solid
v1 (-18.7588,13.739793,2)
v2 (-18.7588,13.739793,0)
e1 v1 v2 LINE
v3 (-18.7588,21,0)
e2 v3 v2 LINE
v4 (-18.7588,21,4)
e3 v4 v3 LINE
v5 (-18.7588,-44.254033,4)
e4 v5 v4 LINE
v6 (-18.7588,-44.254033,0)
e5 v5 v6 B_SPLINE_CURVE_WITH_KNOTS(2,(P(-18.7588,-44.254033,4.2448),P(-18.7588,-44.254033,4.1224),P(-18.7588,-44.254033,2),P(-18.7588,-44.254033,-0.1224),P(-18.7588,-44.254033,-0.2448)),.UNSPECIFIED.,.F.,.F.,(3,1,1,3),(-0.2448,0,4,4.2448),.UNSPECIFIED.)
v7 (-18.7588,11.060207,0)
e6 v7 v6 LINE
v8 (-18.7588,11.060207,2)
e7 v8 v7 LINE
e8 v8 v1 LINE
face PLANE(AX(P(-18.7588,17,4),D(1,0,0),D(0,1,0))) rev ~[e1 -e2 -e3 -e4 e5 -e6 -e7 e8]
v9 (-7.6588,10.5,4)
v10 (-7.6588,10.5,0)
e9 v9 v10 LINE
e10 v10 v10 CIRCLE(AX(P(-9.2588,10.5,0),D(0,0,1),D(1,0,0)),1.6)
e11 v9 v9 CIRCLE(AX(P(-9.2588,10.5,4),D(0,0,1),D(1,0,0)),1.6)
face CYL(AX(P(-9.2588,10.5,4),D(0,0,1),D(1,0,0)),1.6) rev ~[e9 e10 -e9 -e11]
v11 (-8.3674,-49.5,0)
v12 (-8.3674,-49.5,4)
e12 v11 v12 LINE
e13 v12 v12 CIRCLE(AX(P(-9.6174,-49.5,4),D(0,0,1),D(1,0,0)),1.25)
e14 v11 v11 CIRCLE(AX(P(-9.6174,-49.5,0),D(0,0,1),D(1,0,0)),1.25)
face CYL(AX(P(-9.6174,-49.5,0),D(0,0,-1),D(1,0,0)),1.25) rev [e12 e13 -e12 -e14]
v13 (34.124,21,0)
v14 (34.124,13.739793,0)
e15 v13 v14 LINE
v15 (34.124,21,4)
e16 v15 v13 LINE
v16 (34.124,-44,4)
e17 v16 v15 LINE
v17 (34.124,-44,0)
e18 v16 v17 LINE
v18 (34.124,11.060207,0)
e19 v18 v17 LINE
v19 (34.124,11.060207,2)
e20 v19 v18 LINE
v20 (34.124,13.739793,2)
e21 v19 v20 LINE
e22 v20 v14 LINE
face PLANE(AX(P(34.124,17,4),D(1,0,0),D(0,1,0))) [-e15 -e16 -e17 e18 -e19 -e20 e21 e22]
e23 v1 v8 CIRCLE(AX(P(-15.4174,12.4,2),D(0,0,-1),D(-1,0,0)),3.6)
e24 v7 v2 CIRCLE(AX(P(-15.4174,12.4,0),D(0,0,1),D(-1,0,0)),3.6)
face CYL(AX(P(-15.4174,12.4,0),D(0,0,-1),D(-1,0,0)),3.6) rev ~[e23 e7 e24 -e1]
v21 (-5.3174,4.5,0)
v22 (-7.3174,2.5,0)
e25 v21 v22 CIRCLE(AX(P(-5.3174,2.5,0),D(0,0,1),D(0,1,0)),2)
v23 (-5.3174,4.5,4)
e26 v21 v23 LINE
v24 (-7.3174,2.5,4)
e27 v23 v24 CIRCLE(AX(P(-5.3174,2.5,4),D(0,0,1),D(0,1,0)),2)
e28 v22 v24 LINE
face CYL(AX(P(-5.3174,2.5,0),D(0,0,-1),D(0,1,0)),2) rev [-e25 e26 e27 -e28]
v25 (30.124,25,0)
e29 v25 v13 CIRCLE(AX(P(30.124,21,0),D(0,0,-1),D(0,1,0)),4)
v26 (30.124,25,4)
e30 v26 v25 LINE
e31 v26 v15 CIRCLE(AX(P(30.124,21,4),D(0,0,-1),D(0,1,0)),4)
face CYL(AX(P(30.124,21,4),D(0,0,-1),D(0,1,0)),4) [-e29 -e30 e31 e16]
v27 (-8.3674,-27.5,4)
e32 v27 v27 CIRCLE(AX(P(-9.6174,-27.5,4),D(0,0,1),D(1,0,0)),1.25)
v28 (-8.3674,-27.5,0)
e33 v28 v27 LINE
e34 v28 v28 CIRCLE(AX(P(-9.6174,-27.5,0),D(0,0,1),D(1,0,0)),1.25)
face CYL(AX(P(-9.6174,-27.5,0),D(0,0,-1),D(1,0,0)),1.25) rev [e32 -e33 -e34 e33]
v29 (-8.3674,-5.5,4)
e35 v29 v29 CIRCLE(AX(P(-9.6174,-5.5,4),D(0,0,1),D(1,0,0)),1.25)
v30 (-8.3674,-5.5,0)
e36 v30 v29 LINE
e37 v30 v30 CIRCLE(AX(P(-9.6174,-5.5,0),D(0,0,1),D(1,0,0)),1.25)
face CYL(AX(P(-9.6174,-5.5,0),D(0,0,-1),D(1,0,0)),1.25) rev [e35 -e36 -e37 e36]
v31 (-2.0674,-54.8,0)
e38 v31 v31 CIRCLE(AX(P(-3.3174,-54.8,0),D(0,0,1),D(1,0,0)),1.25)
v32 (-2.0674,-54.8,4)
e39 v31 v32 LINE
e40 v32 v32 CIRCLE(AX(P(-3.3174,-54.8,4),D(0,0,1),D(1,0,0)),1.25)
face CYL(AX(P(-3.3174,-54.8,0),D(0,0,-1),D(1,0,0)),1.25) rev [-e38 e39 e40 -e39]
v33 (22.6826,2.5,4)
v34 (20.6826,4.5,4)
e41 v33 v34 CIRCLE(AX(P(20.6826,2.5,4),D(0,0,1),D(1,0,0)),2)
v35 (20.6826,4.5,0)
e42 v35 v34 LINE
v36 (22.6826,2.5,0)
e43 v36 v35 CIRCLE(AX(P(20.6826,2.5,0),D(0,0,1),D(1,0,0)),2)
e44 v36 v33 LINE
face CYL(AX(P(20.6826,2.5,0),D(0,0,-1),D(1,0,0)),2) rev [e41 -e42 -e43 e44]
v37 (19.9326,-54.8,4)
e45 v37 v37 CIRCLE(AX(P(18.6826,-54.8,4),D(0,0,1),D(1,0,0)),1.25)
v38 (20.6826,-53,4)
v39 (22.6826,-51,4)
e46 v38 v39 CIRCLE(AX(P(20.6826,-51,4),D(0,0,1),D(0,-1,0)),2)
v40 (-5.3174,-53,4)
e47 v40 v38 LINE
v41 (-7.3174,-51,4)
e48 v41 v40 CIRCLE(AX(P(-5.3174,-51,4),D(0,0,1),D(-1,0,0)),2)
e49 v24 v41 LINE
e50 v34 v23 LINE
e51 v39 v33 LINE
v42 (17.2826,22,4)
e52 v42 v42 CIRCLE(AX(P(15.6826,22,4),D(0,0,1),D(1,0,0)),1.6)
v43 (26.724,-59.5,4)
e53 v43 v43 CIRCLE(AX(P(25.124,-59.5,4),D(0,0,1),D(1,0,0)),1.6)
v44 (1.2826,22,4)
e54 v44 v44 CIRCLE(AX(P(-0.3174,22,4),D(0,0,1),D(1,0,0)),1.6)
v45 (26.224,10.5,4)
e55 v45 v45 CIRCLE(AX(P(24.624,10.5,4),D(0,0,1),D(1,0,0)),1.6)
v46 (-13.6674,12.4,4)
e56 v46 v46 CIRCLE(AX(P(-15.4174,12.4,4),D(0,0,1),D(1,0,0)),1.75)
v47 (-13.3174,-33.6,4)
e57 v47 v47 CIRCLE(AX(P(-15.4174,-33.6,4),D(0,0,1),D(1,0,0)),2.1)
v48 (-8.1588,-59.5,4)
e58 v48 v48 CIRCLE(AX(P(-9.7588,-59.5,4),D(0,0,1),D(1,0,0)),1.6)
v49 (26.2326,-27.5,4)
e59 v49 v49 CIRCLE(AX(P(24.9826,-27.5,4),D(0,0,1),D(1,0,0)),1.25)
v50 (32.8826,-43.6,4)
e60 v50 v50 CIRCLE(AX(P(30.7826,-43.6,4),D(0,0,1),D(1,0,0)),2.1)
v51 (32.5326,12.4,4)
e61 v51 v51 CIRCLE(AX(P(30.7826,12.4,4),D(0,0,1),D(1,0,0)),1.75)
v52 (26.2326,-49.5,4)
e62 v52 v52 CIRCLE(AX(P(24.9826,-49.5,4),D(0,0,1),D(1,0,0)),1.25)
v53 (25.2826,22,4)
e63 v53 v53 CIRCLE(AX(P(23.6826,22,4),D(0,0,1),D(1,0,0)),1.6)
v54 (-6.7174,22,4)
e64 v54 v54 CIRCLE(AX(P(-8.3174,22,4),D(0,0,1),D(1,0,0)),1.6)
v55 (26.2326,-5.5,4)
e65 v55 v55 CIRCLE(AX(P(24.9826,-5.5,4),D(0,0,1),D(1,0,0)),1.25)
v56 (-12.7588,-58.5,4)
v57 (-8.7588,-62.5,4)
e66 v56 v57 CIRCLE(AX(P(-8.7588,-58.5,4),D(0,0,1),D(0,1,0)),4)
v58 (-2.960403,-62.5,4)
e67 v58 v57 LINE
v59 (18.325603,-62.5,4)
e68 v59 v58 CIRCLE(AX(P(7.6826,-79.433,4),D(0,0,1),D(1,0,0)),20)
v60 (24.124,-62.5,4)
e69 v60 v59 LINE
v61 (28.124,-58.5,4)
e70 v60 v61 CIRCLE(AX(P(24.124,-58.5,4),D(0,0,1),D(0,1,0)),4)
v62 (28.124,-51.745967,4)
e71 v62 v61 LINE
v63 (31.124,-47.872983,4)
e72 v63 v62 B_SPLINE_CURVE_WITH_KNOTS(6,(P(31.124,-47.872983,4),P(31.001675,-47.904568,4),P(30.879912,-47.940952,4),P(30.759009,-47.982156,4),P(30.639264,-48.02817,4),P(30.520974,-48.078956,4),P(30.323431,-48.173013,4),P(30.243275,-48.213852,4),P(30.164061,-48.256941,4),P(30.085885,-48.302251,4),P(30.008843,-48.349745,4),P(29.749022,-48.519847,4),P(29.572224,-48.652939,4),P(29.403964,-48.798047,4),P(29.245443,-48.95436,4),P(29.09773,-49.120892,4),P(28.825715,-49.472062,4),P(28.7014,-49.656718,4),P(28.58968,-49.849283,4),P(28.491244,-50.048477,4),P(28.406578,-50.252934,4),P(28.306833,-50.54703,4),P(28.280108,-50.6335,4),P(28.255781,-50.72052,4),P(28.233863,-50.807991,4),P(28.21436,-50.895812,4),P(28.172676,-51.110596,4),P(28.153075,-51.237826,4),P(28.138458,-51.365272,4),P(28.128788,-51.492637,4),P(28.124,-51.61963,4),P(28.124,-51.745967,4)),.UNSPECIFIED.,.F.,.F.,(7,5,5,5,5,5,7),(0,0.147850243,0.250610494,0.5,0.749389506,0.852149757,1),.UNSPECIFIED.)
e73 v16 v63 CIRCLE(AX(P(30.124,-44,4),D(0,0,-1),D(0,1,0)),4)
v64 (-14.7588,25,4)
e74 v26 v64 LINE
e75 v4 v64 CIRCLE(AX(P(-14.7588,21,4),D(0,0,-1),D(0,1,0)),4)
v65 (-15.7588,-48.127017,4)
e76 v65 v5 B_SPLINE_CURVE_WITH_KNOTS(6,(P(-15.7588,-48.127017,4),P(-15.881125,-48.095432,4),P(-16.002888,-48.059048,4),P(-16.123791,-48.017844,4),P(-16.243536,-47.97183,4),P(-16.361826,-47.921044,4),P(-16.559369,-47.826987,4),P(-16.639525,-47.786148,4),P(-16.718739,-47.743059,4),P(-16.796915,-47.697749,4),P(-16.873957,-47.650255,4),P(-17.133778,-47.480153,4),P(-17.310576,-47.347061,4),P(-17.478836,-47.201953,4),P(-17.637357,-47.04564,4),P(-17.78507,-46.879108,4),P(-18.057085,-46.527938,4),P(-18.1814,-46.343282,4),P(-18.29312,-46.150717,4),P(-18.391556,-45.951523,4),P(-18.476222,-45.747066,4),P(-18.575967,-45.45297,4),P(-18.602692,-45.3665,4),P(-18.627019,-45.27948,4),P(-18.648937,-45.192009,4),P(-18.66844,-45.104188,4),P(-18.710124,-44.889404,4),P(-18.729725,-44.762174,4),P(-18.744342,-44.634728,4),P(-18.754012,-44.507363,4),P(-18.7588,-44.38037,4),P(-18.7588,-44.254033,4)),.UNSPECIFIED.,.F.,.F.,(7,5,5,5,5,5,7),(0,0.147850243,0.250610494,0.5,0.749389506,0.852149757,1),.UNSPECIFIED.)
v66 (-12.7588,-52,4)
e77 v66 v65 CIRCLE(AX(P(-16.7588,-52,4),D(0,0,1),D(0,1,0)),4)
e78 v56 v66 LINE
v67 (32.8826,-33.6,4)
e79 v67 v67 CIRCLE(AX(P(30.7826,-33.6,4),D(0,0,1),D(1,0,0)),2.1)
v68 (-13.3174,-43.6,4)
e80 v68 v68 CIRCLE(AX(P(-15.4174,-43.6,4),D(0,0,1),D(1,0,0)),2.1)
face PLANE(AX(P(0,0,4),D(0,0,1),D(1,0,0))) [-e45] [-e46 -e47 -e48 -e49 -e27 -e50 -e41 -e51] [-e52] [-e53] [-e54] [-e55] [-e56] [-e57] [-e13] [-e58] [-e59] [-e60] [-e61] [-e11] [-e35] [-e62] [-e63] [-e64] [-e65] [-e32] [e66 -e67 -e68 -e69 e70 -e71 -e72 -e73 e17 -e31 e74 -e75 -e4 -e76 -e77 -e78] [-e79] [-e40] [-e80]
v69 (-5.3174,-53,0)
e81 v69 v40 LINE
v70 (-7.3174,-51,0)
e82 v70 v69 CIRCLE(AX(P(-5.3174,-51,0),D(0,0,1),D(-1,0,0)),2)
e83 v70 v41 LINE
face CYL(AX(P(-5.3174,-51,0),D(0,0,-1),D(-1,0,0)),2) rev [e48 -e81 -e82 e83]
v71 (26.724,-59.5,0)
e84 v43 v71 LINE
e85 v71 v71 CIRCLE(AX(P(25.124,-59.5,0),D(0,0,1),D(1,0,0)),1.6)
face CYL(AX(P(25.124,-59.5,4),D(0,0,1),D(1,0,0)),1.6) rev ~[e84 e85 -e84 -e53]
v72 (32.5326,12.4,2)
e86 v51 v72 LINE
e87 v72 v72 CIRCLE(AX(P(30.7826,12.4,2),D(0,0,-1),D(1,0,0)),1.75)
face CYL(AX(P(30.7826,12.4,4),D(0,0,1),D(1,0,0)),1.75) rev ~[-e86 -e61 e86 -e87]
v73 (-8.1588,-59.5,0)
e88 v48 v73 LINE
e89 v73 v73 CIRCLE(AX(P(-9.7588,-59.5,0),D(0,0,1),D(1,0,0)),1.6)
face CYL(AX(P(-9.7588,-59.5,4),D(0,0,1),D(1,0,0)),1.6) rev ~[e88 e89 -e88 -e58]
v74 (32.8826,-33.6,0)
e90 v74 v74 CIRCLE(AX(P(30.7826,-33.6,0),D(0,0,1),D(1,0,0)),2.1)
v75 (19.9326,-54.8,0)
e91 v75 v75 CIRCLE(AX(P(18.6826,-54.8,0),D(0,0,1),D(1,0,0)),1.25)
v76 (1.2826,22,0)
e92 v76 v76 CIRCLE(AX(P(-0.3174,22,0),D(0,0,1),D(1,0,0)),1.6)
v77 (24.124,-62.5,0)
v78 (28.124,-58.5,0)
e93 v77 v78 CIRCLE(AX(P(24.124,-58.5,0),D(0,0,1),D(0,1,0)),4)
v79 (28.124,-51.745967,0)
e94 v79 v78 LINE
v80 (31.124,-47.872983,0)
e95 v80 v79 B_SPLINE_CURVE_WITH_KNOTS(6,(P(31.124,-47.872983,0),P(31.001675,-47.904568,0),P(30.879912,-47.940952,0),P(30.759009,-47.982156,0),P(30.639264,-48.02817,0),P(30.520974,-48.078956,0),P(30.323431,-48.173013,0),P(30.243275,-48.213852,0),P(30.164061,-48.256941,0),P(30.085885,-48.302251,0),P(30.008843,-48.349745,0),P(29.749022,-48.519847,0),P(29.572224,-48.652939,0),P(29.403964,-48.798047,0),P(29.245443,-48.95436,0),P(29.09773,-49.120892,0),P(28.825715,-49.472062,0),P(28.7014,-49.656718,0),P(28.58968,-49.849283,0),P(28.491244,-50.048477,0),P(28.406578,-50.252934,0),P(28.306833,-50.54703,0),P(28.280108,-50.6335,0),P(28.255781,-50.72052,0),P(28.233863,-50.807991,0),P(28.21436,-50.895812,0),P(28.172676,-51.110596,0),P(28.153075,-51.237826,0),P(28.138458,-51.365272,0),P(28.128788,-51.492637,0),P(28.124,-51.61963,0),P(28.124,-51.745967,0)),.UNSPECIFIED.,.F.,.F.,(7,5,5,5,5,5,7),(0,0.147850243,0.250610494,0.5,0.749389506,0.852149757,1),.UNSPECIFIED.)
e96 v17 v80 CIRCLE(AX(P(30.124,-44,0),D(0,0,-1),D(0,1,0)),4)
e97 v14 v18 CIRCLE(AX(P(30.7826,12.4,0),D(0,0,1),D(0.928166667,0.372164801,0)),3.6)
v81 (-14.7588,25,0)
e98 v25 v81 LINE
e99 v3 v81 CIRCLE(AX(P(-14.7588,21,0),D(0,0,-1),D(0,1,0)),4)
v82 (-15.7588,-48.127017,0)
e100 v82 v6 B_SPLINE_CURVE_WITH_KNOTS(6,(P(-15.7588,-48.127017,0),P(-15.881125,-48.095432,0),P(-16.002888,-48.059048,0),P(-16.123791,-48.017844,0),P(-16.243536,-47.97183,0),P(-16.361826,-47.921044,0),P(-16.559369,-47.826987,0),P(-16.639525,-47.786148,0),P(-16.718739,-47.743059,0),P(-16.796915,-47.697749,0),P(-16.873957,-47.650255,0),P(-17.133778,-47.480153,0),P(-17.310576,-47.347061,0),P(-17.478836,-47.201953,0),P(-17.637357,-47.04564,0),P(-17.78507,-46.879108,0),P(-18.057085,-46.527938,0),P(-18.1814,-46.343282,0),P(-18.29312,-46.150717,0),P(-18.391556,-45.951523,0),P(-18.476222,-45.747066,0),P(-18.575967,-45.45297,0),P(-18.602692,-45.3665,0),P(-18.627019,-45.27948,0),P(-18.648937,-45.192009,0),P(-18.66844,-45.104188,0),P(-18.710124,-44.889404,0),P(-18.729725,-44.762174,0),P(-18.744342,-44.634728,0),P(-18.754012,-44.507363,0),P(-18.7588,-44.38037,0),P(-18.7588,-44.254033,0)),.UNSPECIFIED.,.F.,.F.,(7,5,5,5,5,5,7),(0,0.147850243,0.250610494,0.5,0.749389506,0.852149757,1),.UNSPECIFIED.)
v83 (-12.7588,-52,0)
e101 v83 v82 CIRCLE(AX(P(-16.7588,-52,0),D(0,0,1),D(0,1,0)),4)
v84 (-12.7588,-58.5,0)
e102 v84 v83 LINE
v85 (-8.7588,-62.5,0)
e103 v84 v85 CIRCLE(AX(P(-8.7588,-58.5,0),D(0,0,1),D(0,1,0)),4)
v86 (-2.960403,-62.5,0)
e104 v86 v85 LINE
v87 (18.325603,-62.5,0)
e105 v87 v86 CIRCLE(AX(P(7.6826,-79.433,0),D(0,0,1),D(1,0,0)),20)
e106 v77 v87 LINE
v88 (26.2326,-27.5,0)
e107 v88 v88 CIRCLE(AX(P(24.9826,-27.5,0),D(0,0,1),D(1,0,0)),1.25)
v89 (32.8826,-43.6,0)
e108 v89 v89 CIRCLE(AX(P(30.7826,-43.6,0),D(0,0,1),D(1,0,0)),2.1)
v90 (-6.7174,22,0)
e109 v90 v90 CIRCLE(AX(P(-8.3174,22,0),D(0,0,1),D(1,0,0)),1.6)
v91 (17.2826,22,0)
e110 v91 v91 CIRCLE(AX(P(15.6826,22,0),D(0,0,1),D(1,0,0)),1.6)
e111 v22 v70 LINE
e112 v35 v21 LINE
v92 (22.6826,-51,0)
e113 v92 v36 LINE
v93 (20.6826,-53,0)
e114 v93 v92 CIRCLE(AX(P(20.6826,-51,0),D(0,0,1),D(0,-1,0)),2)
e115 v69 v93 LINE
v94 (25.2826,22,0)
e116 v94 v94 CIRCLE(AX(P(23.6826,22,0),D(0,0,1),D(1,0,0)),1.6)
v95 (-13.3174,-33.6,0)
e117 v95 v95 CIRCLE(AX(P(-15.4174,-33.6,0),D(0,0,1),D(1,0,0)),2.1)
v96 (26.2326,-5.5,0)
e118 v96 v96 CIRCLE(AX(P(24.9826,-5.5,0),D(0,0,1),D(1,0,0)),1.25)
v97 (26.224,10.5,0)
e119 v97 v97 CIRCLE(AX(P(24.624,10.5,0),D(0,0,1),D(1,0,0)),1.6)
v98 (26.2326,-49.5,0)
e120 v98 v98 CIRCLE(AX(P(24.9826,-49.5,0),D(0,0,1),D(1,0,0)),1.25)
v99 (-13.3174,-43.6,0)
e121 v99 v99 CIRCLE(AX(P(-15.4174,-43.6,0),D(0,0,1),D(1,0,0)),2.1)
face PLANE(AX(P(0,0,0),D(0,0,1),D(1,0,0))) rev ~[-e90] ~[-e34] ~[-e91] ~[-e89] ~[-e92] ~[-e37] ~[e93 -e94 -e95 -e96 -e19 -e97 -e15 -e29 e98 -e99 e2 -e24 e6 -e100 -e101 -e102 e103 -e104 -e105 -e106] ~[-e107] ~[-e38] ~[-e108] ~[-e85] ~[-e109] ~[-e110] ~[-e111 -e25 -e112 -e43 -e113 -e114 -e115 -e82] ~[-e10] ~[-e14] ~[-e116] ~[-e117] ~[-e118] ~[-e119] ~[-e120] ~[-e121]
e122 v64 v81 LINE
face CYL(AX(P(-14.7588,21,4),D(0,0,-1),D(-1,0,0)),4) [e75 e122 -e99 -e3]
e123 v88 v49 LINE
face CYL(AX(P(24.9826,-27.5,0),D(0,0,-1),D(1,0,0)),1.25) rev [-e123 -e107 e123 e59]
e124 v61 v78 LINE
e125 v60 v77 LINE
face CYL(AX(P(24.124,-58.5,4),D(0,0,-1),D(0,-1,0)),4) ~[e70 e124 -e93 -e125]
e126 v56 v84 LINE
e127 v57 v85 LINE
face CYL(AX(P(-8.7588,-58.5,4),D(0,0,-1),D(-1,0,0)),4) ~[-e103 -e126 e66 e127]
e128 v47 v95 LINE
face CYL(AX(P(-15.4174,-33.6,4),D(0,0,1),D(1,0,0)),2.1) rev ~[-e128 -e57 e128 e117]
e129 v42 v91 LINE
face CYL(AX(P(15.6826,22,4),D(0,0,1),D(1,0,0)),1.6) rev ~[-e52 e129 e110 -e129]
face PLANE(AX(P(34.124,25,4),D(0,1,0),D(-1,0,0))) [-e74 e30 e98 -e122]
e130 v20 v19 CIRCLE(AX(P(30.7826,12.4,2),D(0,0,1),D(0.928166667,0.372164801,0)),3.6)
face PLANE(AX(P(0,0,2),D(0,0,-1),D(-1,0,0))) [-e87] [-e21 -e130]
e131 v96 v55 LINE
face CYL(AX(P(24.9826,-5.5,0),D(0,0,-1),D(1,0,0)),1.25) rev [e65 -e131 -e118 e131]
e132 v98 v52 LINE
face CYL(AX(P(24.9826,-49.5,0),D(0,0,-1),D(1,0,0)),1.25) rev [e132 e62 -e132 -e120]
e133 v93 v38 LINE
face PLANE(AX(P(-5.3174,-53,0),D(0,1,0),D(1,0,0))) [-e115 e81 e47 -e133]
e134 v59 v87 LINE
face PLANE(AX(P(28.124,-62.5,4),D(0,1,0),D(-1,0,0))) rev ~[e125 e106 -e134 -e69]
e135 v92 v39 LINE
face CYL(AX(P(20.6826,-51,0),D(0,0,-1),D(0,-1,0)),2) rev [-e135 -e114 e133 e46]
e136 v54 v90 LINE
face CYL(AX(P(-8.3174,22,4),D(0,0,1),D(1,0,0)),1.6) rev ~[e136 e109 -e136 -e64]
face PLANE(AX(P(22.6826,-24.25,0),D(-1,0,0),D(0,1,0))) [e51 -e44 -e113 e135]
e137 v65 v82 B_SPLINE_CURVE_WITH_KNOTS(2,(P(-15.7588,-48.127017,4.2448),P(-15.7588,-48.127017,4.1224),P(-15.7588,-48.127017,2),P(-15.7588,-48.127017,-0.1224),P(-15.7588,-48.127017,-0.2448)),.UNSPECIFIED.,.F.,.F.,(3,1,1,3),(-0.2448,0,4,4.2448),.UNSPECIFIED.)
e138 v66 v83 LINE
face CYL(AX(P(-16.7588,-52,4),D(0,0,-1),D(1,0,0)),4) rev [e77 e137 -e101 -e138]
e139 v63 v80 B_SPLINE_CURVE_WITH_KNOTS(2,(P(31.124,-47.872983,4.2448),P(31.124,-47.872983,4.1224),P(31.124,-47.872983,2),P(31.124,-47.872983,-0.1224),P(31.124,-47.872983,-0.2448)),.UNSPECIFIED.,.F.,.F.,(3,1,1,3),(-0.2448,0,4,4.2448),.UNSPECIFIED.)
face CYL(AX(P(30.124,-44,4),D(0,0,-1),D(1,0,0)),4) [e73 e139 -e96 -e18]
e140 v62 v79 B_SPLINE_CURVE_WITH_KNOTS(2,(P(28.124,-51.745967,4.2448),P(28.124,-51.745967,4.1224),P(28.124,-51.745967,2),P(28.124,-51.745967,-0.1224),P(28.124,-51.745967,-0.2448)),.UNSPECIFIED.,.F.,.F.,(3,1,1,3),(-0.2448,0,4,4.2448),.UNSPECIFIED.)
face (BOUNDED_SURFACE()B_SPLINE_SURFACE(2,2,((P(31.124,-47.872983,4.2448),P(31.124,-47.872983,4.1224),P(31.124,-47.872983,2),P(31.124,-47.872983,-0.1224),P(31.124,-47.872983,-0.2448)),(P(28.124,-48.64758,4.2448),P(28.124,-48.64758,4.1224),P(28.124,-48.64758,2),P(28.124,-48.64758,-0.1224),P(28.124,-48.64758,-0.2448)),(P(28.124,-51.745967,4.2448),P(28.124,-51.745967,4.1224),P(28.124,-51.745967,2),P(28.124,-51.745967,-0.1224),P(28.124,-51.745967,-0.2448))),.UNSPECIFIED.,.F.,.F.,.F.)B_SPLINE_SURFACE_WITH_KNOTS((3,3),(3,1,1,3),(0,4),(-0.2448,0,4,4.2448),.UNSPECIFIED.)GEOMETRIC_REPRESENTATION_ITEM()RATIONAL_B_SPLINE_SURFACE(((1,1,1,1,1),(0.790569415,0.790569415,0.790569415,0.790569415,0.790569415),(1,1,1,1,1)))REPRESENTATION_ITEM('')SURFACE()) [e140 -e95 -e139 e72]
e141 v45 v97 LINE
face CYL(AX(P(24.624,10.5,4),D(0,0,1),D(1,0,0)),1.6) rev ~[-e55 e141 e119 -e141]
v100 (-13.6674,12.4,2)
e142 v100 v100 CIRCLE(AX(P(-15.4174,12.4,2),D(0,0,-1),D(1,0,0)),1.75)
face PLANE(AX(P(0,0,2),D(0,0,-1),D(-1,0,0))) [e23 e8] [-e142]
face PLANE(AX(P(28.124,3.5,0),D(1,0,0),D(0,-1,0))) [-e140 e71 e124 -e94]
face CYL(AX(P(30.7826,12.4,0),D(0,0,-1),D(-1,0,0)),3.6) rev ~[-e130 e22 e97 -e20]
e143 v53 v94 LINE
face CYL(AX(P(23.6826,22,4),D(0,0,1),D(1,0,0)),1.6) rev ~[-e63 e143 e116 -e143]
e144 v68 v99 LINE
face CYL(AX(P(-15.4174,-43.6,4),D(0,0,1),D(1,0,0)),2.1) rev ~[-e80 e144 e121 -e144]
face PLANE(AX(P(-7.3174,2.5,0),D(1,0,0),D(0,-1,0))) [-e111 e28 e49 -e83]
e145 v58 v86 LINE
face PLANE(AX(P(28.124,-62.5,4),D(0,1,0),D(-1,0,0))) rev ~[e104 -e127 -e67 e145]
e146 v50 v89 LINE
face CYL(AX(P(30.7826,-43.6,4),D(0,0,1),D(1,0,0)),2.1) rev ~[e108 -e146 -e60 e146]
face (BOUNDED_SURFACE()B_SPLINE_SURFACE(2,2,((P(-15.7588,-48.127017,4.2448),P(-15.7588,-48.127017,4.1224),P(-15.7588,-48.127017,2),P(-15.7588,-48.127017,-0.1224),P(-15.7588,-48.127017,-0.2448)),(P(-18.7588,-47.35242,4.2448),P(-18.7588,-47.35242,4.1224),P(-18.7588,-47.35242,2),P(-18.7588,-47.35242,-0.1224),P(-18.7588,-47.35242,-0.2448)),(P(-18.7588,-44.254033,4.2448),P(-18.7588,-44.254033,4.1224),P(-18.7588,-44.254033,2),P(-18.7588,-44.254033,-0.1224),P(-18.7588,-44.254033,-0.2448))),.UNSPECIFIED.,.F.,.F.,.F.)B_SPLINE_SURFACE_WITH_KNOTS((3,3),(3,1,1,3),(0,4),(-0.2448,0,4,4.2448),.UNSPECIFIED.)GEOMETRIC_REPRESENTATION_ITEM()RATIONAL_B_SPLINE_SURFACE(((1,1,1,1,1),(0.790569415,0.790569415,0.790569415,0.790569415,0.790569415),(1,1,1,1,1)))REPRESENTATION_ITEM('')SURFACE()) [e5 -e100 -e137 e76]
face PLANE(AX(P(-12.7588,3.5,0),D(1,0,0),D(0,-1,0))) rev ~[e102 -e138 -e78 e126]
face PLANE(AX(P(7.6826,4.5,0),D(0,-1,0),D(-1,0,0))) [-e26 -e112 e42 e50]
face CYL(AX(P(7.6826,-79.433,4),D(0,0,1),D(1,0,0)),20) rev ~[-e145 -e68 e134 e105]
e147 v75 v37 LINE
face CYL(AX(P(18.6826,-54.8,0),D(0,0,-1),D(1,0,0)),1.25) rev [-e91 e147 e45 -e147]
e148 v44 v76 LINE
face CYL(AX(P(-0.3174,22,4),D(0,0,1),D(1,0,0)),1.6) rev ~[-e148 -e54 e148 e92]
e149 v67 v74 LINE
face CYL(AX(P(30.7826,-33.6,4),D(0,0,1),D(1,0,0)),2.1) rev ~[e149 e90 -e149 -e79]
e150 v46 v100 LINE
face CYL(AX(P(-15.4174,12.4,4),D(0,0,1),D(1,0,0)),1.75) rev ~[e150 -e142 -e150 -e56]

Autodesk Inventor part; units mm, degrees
ref_plane "YZ Plane" through (0, 0, 0) normal (1, 0, 0) x (0, 1, 0)
ref_plane "XZ Plane" through (0, 0, 0) normal (0, 1, 0) x (-1, 0, 0)
ref_plane "XY Plane" through (0, 0, 0) normal (0, 0, 1) x (1, 0, 0)
sketch "스케치1" plane through (0, 0, 0) normal (0, 0, 1) x (1, 0, 0)
  arc A0 (16.8326, 2) -> (15.3326, 3.5) centre (15.3326, 2) ccw
  line L0 (16.8326, 2) -> (16.8326, 0.5)
  arc A1 (16.8326, 0.5) -> (19.1826, -1.85) centre (19.1826, 0.5) ccw
  line L1 (19.1826, -1.85) -> (21.1826, -1.85)
  arc A2 (22.1826, -2.85) -> (21.1826, -1.85) centre (21.1826, -2.85) ccw
  line L2 (22.1826, -2.85) -> (22.1826, -45.65)
  arc A3 (21.1826, -46.65) -> (22.1826, -45.65) centre (21.1826, -45.65) ccw
  line L3 (21.1826, -46.65) -> (19.1826, -46.65)
  arc A4 (19.1826, -46.65) -> (16.8326, -49) centre (19.1826, -49) ccw
  line L4 (16.8326, -49) -> (16.8326, -51)
  arc A5 (15.8326, -52) -> (16.8326, -51) centre (15.8326, -51) ccw
  line L5 (15.8326, -52) -> (-0.4674, -52)
  arc A6 (-1.4674, -51) -> (-0.4674, -52) centre (-0.4674, -51) ccw
  line L6 (-1.4674, -51) -> (-1.4674, -49)
  arc A7 (-1.4674, -49) -> (-3.8174, -46.65) centre (-3.8174, -49) ccw
  line L7 (-3.8174, -46.65) -> (-5.8174, -46.65)
  arc A8 (-6.8174, -45.65) -> (-5.8174, -46.65) centre (-5.8174, -45.65) ccw
  line L8 (-6.8174, -45.65) -> (-6.8174, -2.85)
  arc A9 (-5.8174, -1.85) -> (-6.8174, -2.85) centre (-5.8174, -2.85) ccw
  line L9 (-5.8174, -1.85) -> (-3.8174, -1.85)
  arc A10 (-3.8174, -1.85) -> (-1.4674, 0.5) centre (-3.8174, 0.5) ccw
  line L10 (-1.4674, 0.5) -> (-1.4674, 2)
  arc A11 (0.0326, 3.5) -> (-1.4674, 2) centre (0.0326, 2) ccw
  circle A12 centre (24.9826, -27.5) radius 1.25
  circle A13 centre (18.6826, -54.8) radius 1.25
  circle A14 centre (-9.6174, -5.5) radius 1.25
  circle A15 centre (-9.6174, -27.5) radius 1.25
  circle A16 centre (-3.3174, -54.8) radius 1.25
  circle A17 centre (24.9826, -49.5) radius 1.25
  circle A18 centre (-9.6174, -49.5) radius 1.25
  circle A19 centre (24.9826, -5.5) radius 1.25
  line L11 (0.0326, 3.5) -> (0.0326, 0.875)
  spline S0 degree 3 poles (0.0326, 0.875) (0.0326, 0.7776) (0.0314, 0.6798) (0.029, 0.5822) (0.0265, 0.4846) (0.0229, 0.3871) (0.0181, 0.29) (0.0132, 0.1929) (0.0072, 0.0961) (0, 0) knots 0 0 0 0 0.333333 0.333333 0.333333 0.666667 0.666667 0.666667 1 1 1 1
  line L12 (15.3652, 0) -> (0, 0)
  spline S1 degree 3 poles (15.3652, 0) (15.3581, 0.0956) (15.352, 0.1921) (15.3472, 0.289) (15.3424, 0.386) (15.3387, 0.4835) (15.3363, 0.5813) (15.3338, 0.679) (15.3326, 0.7771) (15.3326, 0.875) knots 0.000001 0.000001 0.000001 0.000001 0.333333 0.333333 0.333333 0.666667 0.666667 0.666667 1 1 1 1
  line L13 (15.3326, 0.875) -> (15.3326, 3.5)
  line L14 (15.3326, 3.5) -> (0.0326, 3.5)
  circle A20 centre (7.6826, -9.5) radius 5
  line L15 (28.124, 3.5) -> (28.124, -58.5)
  line L16 (-12.7588, 3.5) -> (-12.7588, -58.5)
  line L17 (-12.7588, -58.5) -> (28.124, -58.5)
  line L18 (-12.7588, 3.5) -> (-12.7588, 4.4)
  line L19 (28.124, 4.4) -> (28.124, 3.5)
  line L20 (-12.7588, 4.4) -> (-12.7588, 10)
  line L21 (-12.7588, 10) -> (28.124, 10)
  line L22 (28.124, 10) -> (28.124, 4.4)
  line L23 (7.6826, -52) -> (7.6826, -53)
  line L24 (-6.8174, -24.25) -> (-7.3174, -24.25)
  line L25 (22.1826, -24.25) -> (22.6826, -24.25)
  line L26 (7.6826, 3.5) -> (7.6826, 4.5)
  line L27 (7.6826, 4.5) -> (-5.3174, 4.5)
  line L28 (-7.3174, 2.5) -> (-7.3174, -51)
  line L29 (-5.3174, -53) -> (20.6826, -53)
  line L30 (22.6826, -51) -> (22.6826, 2.5)
  line L31 (20.6826, 4.5) -> (7.6826, 4.5)
  line L32 (-12.7588, -27.5) -> (28.124, -27.5) construction
  line L33 (-3.3174, -54.8) -> (-3.3174, 10) construction
  line L34 (18.6826, -54.8) -> (18.6826, 10) construction
  line L35 (-3.3174, 10) -> (-3.3174, 6.3)
  line L36 (18.6826, 10) -> (18.6826, 6.3)
  circle A21 centre (-3.3174, 6.3) radius 1.25
  circle A22 centre (18.6826, 6.3) radius 1.25
  arc A23 (-7.3174, -51) -> (-5.3174, -53) centre (-5.3174, -51) ccw
  arc A24 (20.6826, -53) -> (22.6826, -51) centre (20.6826, -51) ccw
  arc A25 (22.6826, 2.5) -> (20.6826, 4.5) centre (20.6826, 2.5) ccw
  arc A26 (-5.3174, 4.5) -> (-7.3174, 2.5) centre (-5.3174, 2.5) ccw
  point P0 (0, 0)
  point P1 (-7.3174, 4.5)
  point P2 (-7.3174, -53)
  point P3 (22.6826, -53)
  point P4 (22.6826, 4.5)
  dimension "d4" = 62
  dimension "d9" = 5.6
  dimension "d10" = 1
  dimension "d11" = 0.5
  dimension "d12" = 0.5
  dimension "d13" = 1
  dimension "d14" = 3.7
  dimension "d15" = 3.7
  dimension "d16" = 68.5
  dimension "d18" = 9.4414
  dimension "d19" = 9.4414
  dimension "d22" = 3.7
  dimension "d23" = 3.7
  dimension "d24" = 2.5
  dimension "d25" = 2.5
  dimension "d32" = 2
  dimension "d138" = 2.5
  dimension "d139" = 2.5
  dimension "d140" = 2.5
  dimension "d141" = 2.5
  dimension "d142" = 2.5
  dimension "d143" = 2.5
  dimension "d144" = 2.5
  dimension "d145" = 2.5
extrude "돌출2" add sketch "스케치1" along normal blind 4 contours A22 | A21 | L15 L17 L16 L18 L20 L21 L22 L19
sketch "스케치4" plane through (0, 0, 4) normal (0, 0, 1) x (1, 0, 0)
  circle A0 centre (7.6826, -9.5) radius 5
  point P0 (0, 0)
sketch "스케치7" plane through (0, 0, 4) normal (0, 0, 1) x (1, 0, 0)
  line L0 (28.124, 10) -> (-12.7588, 10) projected
  line L1 (-12.7588, 10) -> (28.124, 10)
  line L2 (28.124, 10) -> (28.124, 14)
  line L3 (28.124, 14) -> (-12.7588, 14)
  line L4 (-12.7588, 14) -> (-12.7588, 10)
  line L5 (-12.7588, -58.5) -> (28.124, -58.5) projected
  line L6 (-12.7588, -58.5) -> (28.124, -58.5)
  line L7 (28.124, -58.5) -> (28.124, -62.5)
  line L8 (28.124, -62.5) -> (-12.7588, -62.5)
  line L9 (-12.7588, -62.5) -> (-12.7588, -58.5)
  point P0 (0, 0)
  dimension "d50" = 4
  dimension "d51" = 4
extrude "돌출4" add sketch "스케치7" against normal up to surface (4 mm away)
sketch "스케치5" plane through (0, 0, 4) normal (0, 0, 1) x (1, 0, 0)
  line L0 (-12.7588, 14) -> (-12.7588, -62.5) projected
  line L1 (28.124, -62.5) -> (28.124, 14) projected
  circle A0 centre (24.9826, -5.5) radius 1.25 projected
  circle A1 centre (-9.6174, -5.5) radius 1.25 projected
  circle A2 centre (-9.6174, -27.5) radius 1.25 projected
  line L2 (-5.3174, 4.5) -> (20.6826, 4.5) projected
  arc A3 (22.6826, 2.5) -> (20.6826, 4.5) centre (20.6826, 2.5) ccw projected
  line L3 (22.6826, 2.5) -> (22.6826, -51) projected
  arc A4 (20.6826, -53) -> (22.6826, -51) centre (20.6826, -51) ccw projected
  line L4 (20.6826, -53) -> (-5.3174, -53) projected
  arc A5 (-7.3174, -51) -> (-5.3174, -53) centre (-5.3174, -51) ccw projected
  line L5 (-7.3174, -51) -> (-7.3174, 2.5) projected
  arc A6 (-5.3174, 4.5) -> (-7.3174, 2.5) centre (-5.3174, 2.5) ccw projected
  circle A7 centre (-9.6174, -49.5) radius 1.25 projected
  circle A8 centre (-3.3174, -54.8) radius 1.25 projected
  circle A9 centre (24.9826, -49.5) radius 1.25 projected
  circle A10 centre (18.6826, -54.8) radius 1.25 projected
  circle A11 centre (24.9826, -27.5) radius 1.25 projected
  circle A12 centre (-9.7588, -59.5) radius 1.6
  circle A13 centre (25.124, -59.5) radius 1.6
  circle A14 centre (-9.2588, 10.5) radius 1.6
  circle A15 centre (24.624, 10.5) radius 1.6
  line L6 (-12.7588, -62.5) -> (28.124, -62.5) projected
  line L7 (28.124, 14) -> (-12.7588, 14) projected
  point P0 (0, 0)
  dimension "d36" = 3.2
  dimension "d37" = 3.2
  dimension "d38" = 3.2
  dimension "d39" = 3.2
  dimension "d40" = 3
  dimension "d42" = 3.5
  dimension "d44" = 3.5
  dimension "d46" = 3
  dimension "d54" = 3
  dimension "d55" = 3
  dimension "d56" = 3.5
  dimension "d57" = 3.5
extrude "돌출3" cut sketch "스케치5" against normal blind 4 contours A12 | A13 | A14 | A15
sketch "스케치8" plane through (0, 0, 4) normal (0, 0, 1) x (1, 0, 0)
  line L0 (-12.7588, 14) -> (28.124, 14) projected
  line L1 (7.6826, 14) -> (7.6826, -136) construction
  circle A0 centre (7.6826, -79.433) radius 20
  line L2 (-12.7588, -62.5) -> (28.124, -62.5) projected
  point P0 (0, 0)
  point P1 (-10.7588, 14)
  point P2 (26.124, 14)
  point P3 (-10.7588, -62.5)
  point P4 (26.124, -62.5)
  point P5 (-2.9604, -62.5)
  point P6 (18.3256, -62.5)
  dimension "d59" = 150
  dimension "d60" = 40
  dimension "d61" = 16.933
extrude "돌출5" cut sketch "스케치8" against normal up to surface (4 mm away) contours L2 A0 picked at (9.885, -61.852)
sketch "스케치12" plane through (0, 0, 4) normal (0, 0, 1) x (1, 0, 0)
  circle A0 centre (-9.6174, -27.5) radius 1.25 projected
  line L0 (-9.6174, -27.5) -> (-9.6174, -33.6) construction
  line L1 (-9.6174, -33.6) -> (-15.4174, -33.6) construction
  circle A1 centre (-15.4174, -33.6) radius 2.1
  line L2 (-12.7588, 14) -> (-12.7588, -62.5) projected
  line L3 (-15.4174, -33.6) -> (-15.4174, -43.6) construction
  circle A2 centre (-15.4174, -43.6) radius 2.1
  arc A3 (18.3256, -62.5) -> (-2.9604, -62.5) centre (7.6826, -79.433) ccw projected
  line L4 (-15.4174, -33.6) -> (-15.4174, 12.4) construction
  circle A4 centre (-15.4174, 12.4) radius 1.75
  line L5 (28.124, 14) -> (-12.7588, 14) projected
  line L6 (7.6826, 14) -> (7.6826, -59.433) construction
  arc A5 (18.3256, -62.5) -> (-2.9604, -62.5) centre (7.6826, -79.433) ccw projected
  circle A6 centre (30.7826, -33.6) radius 2.1
  line L7 (30.7826, -33.6) -> (30.7826, -43.6) construction
  circle A7 centre (30.7826, -43.6) radius 2.1
  line L8 (30.7826, -33.6) -> (30.7826, 12.4) construction
  circle A8 centre (30.7826, 12.4) radius 1.75
  line L9 (-12.7588, 14) -> (-12.7588, -62.5) projected
  line L10 (-12.7588, 14) -> (-12.7588, 17)
  line L11 (-12.7588, 17) -> (28.124, 17)
  line L12 (28.124, 17) -> (28.124, 14)
  line L13 (28.124, 17) -> (34.124, 17)
  line L14 (34.124, 17) -> (34.124, -48)
  line L15 (34.124, -48) -> (28.124, -48)
  line L16 (28.124, -62.5) -> (28.124, 14) projected
  line L17 (-12.7588, 17) -> (-18.7588, 17)
  line L18 (-18.7588, 17) -> (-18.7588, -48)
  line L19 (-18.7588, -48) -> (-12.7588, -48)
  point P0 (0, 0)
  point P1 (-12.7588, -60.5)
  point P2 (28.124, -60.5)
  dimension "d83" = 6.1
  dimension "d84" = 5.8
  dimension "d85" = 4.2
  dimension "d87" = 10
  dimension "d88" = 4.2
  dimension "d89" = 46
  dimension "d90" = 3
  dimension "d91" = 6
  dimension "d92" = 65
  dimension "d93" = 6
  dimension "d128" = 3.5
extrude "돌출8" add sketch "스케치12" against normal blind 4 contours L10 L11 L12 L5 | L2 L19 L18 L17 L10 | L12 L13 L14 L15 L16
sketch "스케치13" plane through (0, 0, 4) normal (0, 0, 1) x (1, 0, 0)
  circle A0 centre (-15.4174, 12.4) radius 1.75 projected
  circle A1 centre (-15.4174, -43.6) radius 2.1 projected
  circle A2 centre (-15.4174, -33.6) radius 2.1 projected
  circle A3 centre (30.7826, 12.4) radius 1.75 projected
  circle A4 centre (30.7826, -43.6) radius 2.1 projected
  circle A5 centre (30.7826, -33.6) radius 2.1 projected
  circle A6 centre (24.9826, -27.5) radius 1.25 projected
  circle A7 centre (18.6826, -54.8) radius 1.25 projected
  circle A8 centre (24.9826, -49.5) radius 1.25 projected
  circle A9 centre (-3.3174, -54.8) radius 1.25 projected
  circle A10 centre (-9.6174, -49.5) radius 1.25 projected
  arc A11 (20.6826, -53) -> (22.6826, -51) centre (20.6826, -51) ccw projected
  line L0 (20.6826, -53) -> (-5.3174, -53) projected
  arc A12 (-7.3174, -51) -> (-5.3174, -53) centre (-5.3174, -51) ccw projected
  line L1 (-7.3174, -51) -> (-7.3174, 2.5) projected
  arc A13 (-5.3174, 4.5) -> (-7.3174, 2.5) centre (-5.3174, 2.5) ccw projected
  line L2 (-5.3174, 4.5) -> (20.6826, 4.5) projected
  arc A14 (22.6826, 2.5) -> (20.6826, 4.5) centre (20.6826, 2.5) ccw projected
  line L3 (22.6826, 2.5) -> (22.6826, -51) projected
  circle A15 centre (-9.6174, -27.5) radius 1.25 projected
  circle A16 centre (-9.6174, -5.5) radius 1.25 projected
  circle A17 centre (24.9826, -5.5) radius 1.25 projected
  arc A18 (18.3256, -62.5) -> (-2.9604, -62.5) centre (7.6826, -79.433) ccw projected
  line L4 (18.3256, -62.5) -> (28.124, -62.5) projected
  line L5 (28.124, -62.5) -> (28.124, -48) projected
  line L6 (28.124, -48) -> (34.124, -48) projected
  line L7 (34.124, -48) -> (34.124, 17) projected
  line L8 (34.124, 17) -> (-18.7588, 17) projected
  line L9 (-18.7588, 17) -> (-18.7588, -48) projected
  line L10 (-18.7588, -48) -> (-12.7588, -48) projected
  line L11 (-12.7588, -48) -> (-12.7588, -62.5) projected
  line L12 (-12.7588, -62.5) -> (-2.9604, -62.5) projected
  circle A19 centre (-9.7588, -59.5) radius 1.6 projected
  circle A20 centre (-9.2588, 10.5) radius 1.6 projected
  circle A21 centre (25.124, -59.5) radius 1.6 projected
  circle A22 centre (24.624, 10.5) radius 1.6 projected
  line L13 (-18.7588, 17) -> (34.124, 17) projected
  line L14 (-18.7588, 17) -> (-18.7588, 25)
  line L15 (34.124, 17) -> (34.124, -48) projected
  line L16 (34.124, 17) -> (34.124, 25)
  line L17 (34.124, 25) -> (-18.7588, 25)
  point P0 (0, 0)
  dimension "d97" = 8
  dimension "d98" = 8
extrude "돌출9" add sketch "스케치13" against normal blind 4 contours L8 L14 L17 L16
sketch "스케치14" plane through (0, 0, 4) normal (0, 0, 1) x (1, 0, 0)
  circle A0 centre (-15.4174, 12.4) radius 1.75 projected
  circle A1 centre (-15.4174, -43.6) radius 2.1 projected
  circle A2 centre (-15.4174, -33.6) radius 2.1 projected
  circle A3 centre (30.7826, 12.4) radius 1.75 projected
  circle A4 centre (30.7826, -43.6) radius 2.1 projected
  circle A5 centre (30.7826, -33.6) radius 2.1 projected
  circle A6 centre (24.9826, -27.5) radius 1.25 projected
  circle A7 centre (18.6826, -54.8) radius 1.25 projected
  circle A8 centre (24.9826, -49.5) radius 1.25 projected
  circle A9 centre (-3.3174, -54.8) radius 1.25 projected
  circle A10 centre (-9.6174, -49.5) radius 1.25 projected
  arc A11 (20.6826, -53) -> (22.6826, -51) centre (20.6826, -51) ccw projected
  line L0 (20.6826, -53) -> (-5.3174, -53) projected
  arc A12 (-7.3174, -51) -> (-5.3174, -53) centre (-5.3174, -51) ccw projected
  line L1 (-7.3174, -51) -> (-7.3174, 2.5) projected
  arc A13 (-5.3174, 4.5) -> (-7.3174, 2.5) centre (-5.3174, 2.5) ccw projected
  line L2 (-5.3174, 4.5) -> (20.6826, 4.5) projected
  arc A14 (22.6826, 2.5) -> (20.6826, 4.5) centre (20.6826, 2.5) ccw projected
  line L3 (22.6826, 2.5) -> (22.6826, -51) projected
  circle A15 centre (-9.6174, -27.5) radius 1.25 projected
  circle A16 centre (-9.6174, -5.5) radius 1.25 projected
  circle A17 centre (24.9826, -5.5) radius 1.25 projected
  arc A18 (18.3256, -62.5) -> (-2.9604, -62.5) centre (7.6826, -79.433) ccw projected
  line L4 (18.3256, -62.5) -> (28.124, -62.5) projected
  line L5 (28.124, -62.5) -> (28.124, -48) projected
  line L6 (28.124, -48) -> (34.124, -48) projected
  line L7 (34.124, -48) -> (34.124, 25) projected
  line L8 (34.124, 25) -> (-18.7588, 25) projected
  line L9 (-18.7588, 25) -> (-18.7588, -48) projected
  line L10 (-18.7588, -48) -> (-12.7588, -48) projected
  line L11 (-12.7588, -48) -> (-12.7588, -62.5) projected
  line L12 (-12.7588, -62.5) -> (-2.9604, -62.5) projected
  circle A19 centre (-9.7588, -59.5) radius 1.6 projected
  circle A20 centre (-9.2588, 10.5) radius 1.6 projected
  circle A21 centre (25.124, -59.5) radius 1.6 projected
  circle A22 centre (24.624, 10.5) radius 1.6 projected
  line L13 (-18.7588, 25) -> (34.124, 25) projected
  line L14 (7.6826, 25) -> (7.6826, 19) construction
  line L15 (-18.7588, -48) -> (-18.7588, 25) projected
  line L16 (-18.7588, 22) -> (34.124, 22) construction
  line L17 (34.124, 25) -> (34.124, -48) projected
  circle A23 centre (23.6826, 22) radius 1.6
  circle A24 centre (-0.3174, 22) radius 1.6
  circle A25 centre (-8.3174, 22) radius 1.6
  circle A26 centre (15.6826, 22) radius 1.6
  point P0 (0, 0)
  dimension "d101" = 6
  dimension "d103" = 3.2
  dimension "d104" = 3.2
  dimension "d105" = 3.2
  dimension "d106" = 3.2
  dimension "d107" = 8
  dimension "d108" = 8
  dimension "d109" = 8
  dimension "d110" = 8
extrude "돌출10" cut sketch "스케치14" against normal up to surface (4 mm away) contours A23 | A24 | A25 | A26
fillet "모깎기7" radius 4 8 edges at (-18.7588, 25, 2) (34.124, 25, 2) (34.124, -48, 2) (28.124, -48, 2) (-12.7588, -48, 2) (-18.7588, -48, 2) (-12.7588, -62.5, 2) (28.124, -62.5, 2)
sketch "스케치18" plane through (0, 0, 0) normal (0, 0, -1) x (-1, 0, 0)
  arc A0 (-28.124, -58.5) -> (-24.124, -62.5) centre (-24.124, -58.5) ccw projected
  line L0 (-24.124, -62.5) -> (-18.3256, -62.5) projected
  arc A1 (2.9604, -62.5) -> (-18.3256, -62.5) centre (-7.6826, -79.433) ccw projected
  line L1 (2.9604, -62.5) -> (8.7588, -62.5) projected
  arc A2 (8.7588, -62.5) -> (12.7588, -58.5) centre (8.7588, -58.5) ccw projected
  line L2 (12.7588, -52) -> (12.7588, -58.5) projected
  arc A3 (15.7588, -48.127) -> (12.7588, -52) centre (16.7588, -52) ccw projected
  arc A4 (15.7588, -48.127) -> (18.7588, -44.254) centre (14.7588, -44.254) ccw projected
  line L3 (18.7588, -44.254) -> (18.7588, 21) projected
  arc A5 (18.7588, 21) -> (14.7588, 25) centre (14.7588, 21) ccw projected
  line L4 (14.7588, 25) -> (-30.124, 25) projected
  arc A6 (-30.124, 25) -> (-34.124, 21) centre (-30.124, 21) ccw projected
  line L5 (-34.124, 21) -> (-34.124, -44) projected
  arc A7 (-34.124, -44) -> (-31.124, -47.873) centre (-30.124, -44) ccw projected
  arc A8 (-28.124, -51.746) -> (-31.124, -47.873) centre (-32.124, -51.746) ccw projected
  line L6 (-28.124, -51.746) -> (-28.124, -58.5) projected
  circle A9 centre (-15.6826, 22) radius 1.6 projected
  circle A10 centre (8.3174, 22) radius 1.6 projected
  circle A11 centre (-23.6826, 22) radius 1.6 projected
  circle A12 centre (0.3174, 22) radius 1.6 projected
  circle A13 centre (15.4174, 12.4) radius 1.75 projected
  circle A14 centre (15.4174, -43.6) radius 2.1 projected
  circle A15 centre (15.4174, -33.6) radius 2.1 projected
  circle A16 centre (-30.7826, 12.4) radius 1.75 projected
  circle A17 centre (-30.7826, -43.6) radius 2.1 projected
  circle A18 centre (-30.7826, -33.6) radius 2.1 projected
  circle A19 centre (-24.9826, -27.5) radius 1.25 projected
  circle A20 centre (-18.6826, -54.8) radius 1.25 projected
  circle A21 centre (-24.9826, -49.5) radius 1.25 projected
  circle A22 centre (3.3174, -54.8) radius 1.25 projected
  circle A23 centre (9.6174, -49.5) radius 1.25 projected
  arc A24 (-22.6826, -51) -> (-20.6826, -53) centre (-20.6826, -51) ccw projected
  line L7 (-22.6826, 2.5) -> (-22.6826, -51) projected
  arc A25 (-20.6826, 4.5) -> (-22.6826, 2.5) centre (-20.6826, 2.5) ccw projected
  line L8 (5.3174, 4.5) -> (-20.6826, 4.5) projected
  arc A26 (7.3174, 2.5) -> (5.3174, 4.5) centre (5.3174, 2.5) ccw projected
  line L9 (7.3174, -51) -> (7.3174, 2.5) projected
  arc A27 (5.3174, -53) -> (7.3174, -51) centre (5.3174, -51) ccw projected
  line L10 (-20.6826, -53) -> (5.3174, -53) projected
  circle A28 centre (9.6174, -27.5) radius 1.25 projected
  circle A29 centre (9.6174, -5.5) radius 1.25 projected
  circle A30 centre (-24.9826, -5.5) radius 1.25 projected
  circle A31 centre (9.7588, -59.5) radius 1.6 projected
  circle A32 centre (9.2588, 10.5) radius 1.6 projected
  circle A33 centre (-25.124, -59.5) radius 1.6 projected
  circle A34 centre (-24.624, 10.5) radius 1.6 projected
  circle A35 centre (-30.7826, 12.4) radius 3.6
  circle A36 centre (15.4174, 12.4) radius 3.6
  point P0 (0, 0)
  dimension "d134" = 7.2
  dimension "d135" = 7.2
extrude "돌출12" cut sketch "스케치18" against normal blind 2 contours A35 L5 | L5 A35 | A36 L3 | L3 A36
equation "\"d111\" = d104"
properties part number "조인트4고정부" material "알루미늄 6061"
